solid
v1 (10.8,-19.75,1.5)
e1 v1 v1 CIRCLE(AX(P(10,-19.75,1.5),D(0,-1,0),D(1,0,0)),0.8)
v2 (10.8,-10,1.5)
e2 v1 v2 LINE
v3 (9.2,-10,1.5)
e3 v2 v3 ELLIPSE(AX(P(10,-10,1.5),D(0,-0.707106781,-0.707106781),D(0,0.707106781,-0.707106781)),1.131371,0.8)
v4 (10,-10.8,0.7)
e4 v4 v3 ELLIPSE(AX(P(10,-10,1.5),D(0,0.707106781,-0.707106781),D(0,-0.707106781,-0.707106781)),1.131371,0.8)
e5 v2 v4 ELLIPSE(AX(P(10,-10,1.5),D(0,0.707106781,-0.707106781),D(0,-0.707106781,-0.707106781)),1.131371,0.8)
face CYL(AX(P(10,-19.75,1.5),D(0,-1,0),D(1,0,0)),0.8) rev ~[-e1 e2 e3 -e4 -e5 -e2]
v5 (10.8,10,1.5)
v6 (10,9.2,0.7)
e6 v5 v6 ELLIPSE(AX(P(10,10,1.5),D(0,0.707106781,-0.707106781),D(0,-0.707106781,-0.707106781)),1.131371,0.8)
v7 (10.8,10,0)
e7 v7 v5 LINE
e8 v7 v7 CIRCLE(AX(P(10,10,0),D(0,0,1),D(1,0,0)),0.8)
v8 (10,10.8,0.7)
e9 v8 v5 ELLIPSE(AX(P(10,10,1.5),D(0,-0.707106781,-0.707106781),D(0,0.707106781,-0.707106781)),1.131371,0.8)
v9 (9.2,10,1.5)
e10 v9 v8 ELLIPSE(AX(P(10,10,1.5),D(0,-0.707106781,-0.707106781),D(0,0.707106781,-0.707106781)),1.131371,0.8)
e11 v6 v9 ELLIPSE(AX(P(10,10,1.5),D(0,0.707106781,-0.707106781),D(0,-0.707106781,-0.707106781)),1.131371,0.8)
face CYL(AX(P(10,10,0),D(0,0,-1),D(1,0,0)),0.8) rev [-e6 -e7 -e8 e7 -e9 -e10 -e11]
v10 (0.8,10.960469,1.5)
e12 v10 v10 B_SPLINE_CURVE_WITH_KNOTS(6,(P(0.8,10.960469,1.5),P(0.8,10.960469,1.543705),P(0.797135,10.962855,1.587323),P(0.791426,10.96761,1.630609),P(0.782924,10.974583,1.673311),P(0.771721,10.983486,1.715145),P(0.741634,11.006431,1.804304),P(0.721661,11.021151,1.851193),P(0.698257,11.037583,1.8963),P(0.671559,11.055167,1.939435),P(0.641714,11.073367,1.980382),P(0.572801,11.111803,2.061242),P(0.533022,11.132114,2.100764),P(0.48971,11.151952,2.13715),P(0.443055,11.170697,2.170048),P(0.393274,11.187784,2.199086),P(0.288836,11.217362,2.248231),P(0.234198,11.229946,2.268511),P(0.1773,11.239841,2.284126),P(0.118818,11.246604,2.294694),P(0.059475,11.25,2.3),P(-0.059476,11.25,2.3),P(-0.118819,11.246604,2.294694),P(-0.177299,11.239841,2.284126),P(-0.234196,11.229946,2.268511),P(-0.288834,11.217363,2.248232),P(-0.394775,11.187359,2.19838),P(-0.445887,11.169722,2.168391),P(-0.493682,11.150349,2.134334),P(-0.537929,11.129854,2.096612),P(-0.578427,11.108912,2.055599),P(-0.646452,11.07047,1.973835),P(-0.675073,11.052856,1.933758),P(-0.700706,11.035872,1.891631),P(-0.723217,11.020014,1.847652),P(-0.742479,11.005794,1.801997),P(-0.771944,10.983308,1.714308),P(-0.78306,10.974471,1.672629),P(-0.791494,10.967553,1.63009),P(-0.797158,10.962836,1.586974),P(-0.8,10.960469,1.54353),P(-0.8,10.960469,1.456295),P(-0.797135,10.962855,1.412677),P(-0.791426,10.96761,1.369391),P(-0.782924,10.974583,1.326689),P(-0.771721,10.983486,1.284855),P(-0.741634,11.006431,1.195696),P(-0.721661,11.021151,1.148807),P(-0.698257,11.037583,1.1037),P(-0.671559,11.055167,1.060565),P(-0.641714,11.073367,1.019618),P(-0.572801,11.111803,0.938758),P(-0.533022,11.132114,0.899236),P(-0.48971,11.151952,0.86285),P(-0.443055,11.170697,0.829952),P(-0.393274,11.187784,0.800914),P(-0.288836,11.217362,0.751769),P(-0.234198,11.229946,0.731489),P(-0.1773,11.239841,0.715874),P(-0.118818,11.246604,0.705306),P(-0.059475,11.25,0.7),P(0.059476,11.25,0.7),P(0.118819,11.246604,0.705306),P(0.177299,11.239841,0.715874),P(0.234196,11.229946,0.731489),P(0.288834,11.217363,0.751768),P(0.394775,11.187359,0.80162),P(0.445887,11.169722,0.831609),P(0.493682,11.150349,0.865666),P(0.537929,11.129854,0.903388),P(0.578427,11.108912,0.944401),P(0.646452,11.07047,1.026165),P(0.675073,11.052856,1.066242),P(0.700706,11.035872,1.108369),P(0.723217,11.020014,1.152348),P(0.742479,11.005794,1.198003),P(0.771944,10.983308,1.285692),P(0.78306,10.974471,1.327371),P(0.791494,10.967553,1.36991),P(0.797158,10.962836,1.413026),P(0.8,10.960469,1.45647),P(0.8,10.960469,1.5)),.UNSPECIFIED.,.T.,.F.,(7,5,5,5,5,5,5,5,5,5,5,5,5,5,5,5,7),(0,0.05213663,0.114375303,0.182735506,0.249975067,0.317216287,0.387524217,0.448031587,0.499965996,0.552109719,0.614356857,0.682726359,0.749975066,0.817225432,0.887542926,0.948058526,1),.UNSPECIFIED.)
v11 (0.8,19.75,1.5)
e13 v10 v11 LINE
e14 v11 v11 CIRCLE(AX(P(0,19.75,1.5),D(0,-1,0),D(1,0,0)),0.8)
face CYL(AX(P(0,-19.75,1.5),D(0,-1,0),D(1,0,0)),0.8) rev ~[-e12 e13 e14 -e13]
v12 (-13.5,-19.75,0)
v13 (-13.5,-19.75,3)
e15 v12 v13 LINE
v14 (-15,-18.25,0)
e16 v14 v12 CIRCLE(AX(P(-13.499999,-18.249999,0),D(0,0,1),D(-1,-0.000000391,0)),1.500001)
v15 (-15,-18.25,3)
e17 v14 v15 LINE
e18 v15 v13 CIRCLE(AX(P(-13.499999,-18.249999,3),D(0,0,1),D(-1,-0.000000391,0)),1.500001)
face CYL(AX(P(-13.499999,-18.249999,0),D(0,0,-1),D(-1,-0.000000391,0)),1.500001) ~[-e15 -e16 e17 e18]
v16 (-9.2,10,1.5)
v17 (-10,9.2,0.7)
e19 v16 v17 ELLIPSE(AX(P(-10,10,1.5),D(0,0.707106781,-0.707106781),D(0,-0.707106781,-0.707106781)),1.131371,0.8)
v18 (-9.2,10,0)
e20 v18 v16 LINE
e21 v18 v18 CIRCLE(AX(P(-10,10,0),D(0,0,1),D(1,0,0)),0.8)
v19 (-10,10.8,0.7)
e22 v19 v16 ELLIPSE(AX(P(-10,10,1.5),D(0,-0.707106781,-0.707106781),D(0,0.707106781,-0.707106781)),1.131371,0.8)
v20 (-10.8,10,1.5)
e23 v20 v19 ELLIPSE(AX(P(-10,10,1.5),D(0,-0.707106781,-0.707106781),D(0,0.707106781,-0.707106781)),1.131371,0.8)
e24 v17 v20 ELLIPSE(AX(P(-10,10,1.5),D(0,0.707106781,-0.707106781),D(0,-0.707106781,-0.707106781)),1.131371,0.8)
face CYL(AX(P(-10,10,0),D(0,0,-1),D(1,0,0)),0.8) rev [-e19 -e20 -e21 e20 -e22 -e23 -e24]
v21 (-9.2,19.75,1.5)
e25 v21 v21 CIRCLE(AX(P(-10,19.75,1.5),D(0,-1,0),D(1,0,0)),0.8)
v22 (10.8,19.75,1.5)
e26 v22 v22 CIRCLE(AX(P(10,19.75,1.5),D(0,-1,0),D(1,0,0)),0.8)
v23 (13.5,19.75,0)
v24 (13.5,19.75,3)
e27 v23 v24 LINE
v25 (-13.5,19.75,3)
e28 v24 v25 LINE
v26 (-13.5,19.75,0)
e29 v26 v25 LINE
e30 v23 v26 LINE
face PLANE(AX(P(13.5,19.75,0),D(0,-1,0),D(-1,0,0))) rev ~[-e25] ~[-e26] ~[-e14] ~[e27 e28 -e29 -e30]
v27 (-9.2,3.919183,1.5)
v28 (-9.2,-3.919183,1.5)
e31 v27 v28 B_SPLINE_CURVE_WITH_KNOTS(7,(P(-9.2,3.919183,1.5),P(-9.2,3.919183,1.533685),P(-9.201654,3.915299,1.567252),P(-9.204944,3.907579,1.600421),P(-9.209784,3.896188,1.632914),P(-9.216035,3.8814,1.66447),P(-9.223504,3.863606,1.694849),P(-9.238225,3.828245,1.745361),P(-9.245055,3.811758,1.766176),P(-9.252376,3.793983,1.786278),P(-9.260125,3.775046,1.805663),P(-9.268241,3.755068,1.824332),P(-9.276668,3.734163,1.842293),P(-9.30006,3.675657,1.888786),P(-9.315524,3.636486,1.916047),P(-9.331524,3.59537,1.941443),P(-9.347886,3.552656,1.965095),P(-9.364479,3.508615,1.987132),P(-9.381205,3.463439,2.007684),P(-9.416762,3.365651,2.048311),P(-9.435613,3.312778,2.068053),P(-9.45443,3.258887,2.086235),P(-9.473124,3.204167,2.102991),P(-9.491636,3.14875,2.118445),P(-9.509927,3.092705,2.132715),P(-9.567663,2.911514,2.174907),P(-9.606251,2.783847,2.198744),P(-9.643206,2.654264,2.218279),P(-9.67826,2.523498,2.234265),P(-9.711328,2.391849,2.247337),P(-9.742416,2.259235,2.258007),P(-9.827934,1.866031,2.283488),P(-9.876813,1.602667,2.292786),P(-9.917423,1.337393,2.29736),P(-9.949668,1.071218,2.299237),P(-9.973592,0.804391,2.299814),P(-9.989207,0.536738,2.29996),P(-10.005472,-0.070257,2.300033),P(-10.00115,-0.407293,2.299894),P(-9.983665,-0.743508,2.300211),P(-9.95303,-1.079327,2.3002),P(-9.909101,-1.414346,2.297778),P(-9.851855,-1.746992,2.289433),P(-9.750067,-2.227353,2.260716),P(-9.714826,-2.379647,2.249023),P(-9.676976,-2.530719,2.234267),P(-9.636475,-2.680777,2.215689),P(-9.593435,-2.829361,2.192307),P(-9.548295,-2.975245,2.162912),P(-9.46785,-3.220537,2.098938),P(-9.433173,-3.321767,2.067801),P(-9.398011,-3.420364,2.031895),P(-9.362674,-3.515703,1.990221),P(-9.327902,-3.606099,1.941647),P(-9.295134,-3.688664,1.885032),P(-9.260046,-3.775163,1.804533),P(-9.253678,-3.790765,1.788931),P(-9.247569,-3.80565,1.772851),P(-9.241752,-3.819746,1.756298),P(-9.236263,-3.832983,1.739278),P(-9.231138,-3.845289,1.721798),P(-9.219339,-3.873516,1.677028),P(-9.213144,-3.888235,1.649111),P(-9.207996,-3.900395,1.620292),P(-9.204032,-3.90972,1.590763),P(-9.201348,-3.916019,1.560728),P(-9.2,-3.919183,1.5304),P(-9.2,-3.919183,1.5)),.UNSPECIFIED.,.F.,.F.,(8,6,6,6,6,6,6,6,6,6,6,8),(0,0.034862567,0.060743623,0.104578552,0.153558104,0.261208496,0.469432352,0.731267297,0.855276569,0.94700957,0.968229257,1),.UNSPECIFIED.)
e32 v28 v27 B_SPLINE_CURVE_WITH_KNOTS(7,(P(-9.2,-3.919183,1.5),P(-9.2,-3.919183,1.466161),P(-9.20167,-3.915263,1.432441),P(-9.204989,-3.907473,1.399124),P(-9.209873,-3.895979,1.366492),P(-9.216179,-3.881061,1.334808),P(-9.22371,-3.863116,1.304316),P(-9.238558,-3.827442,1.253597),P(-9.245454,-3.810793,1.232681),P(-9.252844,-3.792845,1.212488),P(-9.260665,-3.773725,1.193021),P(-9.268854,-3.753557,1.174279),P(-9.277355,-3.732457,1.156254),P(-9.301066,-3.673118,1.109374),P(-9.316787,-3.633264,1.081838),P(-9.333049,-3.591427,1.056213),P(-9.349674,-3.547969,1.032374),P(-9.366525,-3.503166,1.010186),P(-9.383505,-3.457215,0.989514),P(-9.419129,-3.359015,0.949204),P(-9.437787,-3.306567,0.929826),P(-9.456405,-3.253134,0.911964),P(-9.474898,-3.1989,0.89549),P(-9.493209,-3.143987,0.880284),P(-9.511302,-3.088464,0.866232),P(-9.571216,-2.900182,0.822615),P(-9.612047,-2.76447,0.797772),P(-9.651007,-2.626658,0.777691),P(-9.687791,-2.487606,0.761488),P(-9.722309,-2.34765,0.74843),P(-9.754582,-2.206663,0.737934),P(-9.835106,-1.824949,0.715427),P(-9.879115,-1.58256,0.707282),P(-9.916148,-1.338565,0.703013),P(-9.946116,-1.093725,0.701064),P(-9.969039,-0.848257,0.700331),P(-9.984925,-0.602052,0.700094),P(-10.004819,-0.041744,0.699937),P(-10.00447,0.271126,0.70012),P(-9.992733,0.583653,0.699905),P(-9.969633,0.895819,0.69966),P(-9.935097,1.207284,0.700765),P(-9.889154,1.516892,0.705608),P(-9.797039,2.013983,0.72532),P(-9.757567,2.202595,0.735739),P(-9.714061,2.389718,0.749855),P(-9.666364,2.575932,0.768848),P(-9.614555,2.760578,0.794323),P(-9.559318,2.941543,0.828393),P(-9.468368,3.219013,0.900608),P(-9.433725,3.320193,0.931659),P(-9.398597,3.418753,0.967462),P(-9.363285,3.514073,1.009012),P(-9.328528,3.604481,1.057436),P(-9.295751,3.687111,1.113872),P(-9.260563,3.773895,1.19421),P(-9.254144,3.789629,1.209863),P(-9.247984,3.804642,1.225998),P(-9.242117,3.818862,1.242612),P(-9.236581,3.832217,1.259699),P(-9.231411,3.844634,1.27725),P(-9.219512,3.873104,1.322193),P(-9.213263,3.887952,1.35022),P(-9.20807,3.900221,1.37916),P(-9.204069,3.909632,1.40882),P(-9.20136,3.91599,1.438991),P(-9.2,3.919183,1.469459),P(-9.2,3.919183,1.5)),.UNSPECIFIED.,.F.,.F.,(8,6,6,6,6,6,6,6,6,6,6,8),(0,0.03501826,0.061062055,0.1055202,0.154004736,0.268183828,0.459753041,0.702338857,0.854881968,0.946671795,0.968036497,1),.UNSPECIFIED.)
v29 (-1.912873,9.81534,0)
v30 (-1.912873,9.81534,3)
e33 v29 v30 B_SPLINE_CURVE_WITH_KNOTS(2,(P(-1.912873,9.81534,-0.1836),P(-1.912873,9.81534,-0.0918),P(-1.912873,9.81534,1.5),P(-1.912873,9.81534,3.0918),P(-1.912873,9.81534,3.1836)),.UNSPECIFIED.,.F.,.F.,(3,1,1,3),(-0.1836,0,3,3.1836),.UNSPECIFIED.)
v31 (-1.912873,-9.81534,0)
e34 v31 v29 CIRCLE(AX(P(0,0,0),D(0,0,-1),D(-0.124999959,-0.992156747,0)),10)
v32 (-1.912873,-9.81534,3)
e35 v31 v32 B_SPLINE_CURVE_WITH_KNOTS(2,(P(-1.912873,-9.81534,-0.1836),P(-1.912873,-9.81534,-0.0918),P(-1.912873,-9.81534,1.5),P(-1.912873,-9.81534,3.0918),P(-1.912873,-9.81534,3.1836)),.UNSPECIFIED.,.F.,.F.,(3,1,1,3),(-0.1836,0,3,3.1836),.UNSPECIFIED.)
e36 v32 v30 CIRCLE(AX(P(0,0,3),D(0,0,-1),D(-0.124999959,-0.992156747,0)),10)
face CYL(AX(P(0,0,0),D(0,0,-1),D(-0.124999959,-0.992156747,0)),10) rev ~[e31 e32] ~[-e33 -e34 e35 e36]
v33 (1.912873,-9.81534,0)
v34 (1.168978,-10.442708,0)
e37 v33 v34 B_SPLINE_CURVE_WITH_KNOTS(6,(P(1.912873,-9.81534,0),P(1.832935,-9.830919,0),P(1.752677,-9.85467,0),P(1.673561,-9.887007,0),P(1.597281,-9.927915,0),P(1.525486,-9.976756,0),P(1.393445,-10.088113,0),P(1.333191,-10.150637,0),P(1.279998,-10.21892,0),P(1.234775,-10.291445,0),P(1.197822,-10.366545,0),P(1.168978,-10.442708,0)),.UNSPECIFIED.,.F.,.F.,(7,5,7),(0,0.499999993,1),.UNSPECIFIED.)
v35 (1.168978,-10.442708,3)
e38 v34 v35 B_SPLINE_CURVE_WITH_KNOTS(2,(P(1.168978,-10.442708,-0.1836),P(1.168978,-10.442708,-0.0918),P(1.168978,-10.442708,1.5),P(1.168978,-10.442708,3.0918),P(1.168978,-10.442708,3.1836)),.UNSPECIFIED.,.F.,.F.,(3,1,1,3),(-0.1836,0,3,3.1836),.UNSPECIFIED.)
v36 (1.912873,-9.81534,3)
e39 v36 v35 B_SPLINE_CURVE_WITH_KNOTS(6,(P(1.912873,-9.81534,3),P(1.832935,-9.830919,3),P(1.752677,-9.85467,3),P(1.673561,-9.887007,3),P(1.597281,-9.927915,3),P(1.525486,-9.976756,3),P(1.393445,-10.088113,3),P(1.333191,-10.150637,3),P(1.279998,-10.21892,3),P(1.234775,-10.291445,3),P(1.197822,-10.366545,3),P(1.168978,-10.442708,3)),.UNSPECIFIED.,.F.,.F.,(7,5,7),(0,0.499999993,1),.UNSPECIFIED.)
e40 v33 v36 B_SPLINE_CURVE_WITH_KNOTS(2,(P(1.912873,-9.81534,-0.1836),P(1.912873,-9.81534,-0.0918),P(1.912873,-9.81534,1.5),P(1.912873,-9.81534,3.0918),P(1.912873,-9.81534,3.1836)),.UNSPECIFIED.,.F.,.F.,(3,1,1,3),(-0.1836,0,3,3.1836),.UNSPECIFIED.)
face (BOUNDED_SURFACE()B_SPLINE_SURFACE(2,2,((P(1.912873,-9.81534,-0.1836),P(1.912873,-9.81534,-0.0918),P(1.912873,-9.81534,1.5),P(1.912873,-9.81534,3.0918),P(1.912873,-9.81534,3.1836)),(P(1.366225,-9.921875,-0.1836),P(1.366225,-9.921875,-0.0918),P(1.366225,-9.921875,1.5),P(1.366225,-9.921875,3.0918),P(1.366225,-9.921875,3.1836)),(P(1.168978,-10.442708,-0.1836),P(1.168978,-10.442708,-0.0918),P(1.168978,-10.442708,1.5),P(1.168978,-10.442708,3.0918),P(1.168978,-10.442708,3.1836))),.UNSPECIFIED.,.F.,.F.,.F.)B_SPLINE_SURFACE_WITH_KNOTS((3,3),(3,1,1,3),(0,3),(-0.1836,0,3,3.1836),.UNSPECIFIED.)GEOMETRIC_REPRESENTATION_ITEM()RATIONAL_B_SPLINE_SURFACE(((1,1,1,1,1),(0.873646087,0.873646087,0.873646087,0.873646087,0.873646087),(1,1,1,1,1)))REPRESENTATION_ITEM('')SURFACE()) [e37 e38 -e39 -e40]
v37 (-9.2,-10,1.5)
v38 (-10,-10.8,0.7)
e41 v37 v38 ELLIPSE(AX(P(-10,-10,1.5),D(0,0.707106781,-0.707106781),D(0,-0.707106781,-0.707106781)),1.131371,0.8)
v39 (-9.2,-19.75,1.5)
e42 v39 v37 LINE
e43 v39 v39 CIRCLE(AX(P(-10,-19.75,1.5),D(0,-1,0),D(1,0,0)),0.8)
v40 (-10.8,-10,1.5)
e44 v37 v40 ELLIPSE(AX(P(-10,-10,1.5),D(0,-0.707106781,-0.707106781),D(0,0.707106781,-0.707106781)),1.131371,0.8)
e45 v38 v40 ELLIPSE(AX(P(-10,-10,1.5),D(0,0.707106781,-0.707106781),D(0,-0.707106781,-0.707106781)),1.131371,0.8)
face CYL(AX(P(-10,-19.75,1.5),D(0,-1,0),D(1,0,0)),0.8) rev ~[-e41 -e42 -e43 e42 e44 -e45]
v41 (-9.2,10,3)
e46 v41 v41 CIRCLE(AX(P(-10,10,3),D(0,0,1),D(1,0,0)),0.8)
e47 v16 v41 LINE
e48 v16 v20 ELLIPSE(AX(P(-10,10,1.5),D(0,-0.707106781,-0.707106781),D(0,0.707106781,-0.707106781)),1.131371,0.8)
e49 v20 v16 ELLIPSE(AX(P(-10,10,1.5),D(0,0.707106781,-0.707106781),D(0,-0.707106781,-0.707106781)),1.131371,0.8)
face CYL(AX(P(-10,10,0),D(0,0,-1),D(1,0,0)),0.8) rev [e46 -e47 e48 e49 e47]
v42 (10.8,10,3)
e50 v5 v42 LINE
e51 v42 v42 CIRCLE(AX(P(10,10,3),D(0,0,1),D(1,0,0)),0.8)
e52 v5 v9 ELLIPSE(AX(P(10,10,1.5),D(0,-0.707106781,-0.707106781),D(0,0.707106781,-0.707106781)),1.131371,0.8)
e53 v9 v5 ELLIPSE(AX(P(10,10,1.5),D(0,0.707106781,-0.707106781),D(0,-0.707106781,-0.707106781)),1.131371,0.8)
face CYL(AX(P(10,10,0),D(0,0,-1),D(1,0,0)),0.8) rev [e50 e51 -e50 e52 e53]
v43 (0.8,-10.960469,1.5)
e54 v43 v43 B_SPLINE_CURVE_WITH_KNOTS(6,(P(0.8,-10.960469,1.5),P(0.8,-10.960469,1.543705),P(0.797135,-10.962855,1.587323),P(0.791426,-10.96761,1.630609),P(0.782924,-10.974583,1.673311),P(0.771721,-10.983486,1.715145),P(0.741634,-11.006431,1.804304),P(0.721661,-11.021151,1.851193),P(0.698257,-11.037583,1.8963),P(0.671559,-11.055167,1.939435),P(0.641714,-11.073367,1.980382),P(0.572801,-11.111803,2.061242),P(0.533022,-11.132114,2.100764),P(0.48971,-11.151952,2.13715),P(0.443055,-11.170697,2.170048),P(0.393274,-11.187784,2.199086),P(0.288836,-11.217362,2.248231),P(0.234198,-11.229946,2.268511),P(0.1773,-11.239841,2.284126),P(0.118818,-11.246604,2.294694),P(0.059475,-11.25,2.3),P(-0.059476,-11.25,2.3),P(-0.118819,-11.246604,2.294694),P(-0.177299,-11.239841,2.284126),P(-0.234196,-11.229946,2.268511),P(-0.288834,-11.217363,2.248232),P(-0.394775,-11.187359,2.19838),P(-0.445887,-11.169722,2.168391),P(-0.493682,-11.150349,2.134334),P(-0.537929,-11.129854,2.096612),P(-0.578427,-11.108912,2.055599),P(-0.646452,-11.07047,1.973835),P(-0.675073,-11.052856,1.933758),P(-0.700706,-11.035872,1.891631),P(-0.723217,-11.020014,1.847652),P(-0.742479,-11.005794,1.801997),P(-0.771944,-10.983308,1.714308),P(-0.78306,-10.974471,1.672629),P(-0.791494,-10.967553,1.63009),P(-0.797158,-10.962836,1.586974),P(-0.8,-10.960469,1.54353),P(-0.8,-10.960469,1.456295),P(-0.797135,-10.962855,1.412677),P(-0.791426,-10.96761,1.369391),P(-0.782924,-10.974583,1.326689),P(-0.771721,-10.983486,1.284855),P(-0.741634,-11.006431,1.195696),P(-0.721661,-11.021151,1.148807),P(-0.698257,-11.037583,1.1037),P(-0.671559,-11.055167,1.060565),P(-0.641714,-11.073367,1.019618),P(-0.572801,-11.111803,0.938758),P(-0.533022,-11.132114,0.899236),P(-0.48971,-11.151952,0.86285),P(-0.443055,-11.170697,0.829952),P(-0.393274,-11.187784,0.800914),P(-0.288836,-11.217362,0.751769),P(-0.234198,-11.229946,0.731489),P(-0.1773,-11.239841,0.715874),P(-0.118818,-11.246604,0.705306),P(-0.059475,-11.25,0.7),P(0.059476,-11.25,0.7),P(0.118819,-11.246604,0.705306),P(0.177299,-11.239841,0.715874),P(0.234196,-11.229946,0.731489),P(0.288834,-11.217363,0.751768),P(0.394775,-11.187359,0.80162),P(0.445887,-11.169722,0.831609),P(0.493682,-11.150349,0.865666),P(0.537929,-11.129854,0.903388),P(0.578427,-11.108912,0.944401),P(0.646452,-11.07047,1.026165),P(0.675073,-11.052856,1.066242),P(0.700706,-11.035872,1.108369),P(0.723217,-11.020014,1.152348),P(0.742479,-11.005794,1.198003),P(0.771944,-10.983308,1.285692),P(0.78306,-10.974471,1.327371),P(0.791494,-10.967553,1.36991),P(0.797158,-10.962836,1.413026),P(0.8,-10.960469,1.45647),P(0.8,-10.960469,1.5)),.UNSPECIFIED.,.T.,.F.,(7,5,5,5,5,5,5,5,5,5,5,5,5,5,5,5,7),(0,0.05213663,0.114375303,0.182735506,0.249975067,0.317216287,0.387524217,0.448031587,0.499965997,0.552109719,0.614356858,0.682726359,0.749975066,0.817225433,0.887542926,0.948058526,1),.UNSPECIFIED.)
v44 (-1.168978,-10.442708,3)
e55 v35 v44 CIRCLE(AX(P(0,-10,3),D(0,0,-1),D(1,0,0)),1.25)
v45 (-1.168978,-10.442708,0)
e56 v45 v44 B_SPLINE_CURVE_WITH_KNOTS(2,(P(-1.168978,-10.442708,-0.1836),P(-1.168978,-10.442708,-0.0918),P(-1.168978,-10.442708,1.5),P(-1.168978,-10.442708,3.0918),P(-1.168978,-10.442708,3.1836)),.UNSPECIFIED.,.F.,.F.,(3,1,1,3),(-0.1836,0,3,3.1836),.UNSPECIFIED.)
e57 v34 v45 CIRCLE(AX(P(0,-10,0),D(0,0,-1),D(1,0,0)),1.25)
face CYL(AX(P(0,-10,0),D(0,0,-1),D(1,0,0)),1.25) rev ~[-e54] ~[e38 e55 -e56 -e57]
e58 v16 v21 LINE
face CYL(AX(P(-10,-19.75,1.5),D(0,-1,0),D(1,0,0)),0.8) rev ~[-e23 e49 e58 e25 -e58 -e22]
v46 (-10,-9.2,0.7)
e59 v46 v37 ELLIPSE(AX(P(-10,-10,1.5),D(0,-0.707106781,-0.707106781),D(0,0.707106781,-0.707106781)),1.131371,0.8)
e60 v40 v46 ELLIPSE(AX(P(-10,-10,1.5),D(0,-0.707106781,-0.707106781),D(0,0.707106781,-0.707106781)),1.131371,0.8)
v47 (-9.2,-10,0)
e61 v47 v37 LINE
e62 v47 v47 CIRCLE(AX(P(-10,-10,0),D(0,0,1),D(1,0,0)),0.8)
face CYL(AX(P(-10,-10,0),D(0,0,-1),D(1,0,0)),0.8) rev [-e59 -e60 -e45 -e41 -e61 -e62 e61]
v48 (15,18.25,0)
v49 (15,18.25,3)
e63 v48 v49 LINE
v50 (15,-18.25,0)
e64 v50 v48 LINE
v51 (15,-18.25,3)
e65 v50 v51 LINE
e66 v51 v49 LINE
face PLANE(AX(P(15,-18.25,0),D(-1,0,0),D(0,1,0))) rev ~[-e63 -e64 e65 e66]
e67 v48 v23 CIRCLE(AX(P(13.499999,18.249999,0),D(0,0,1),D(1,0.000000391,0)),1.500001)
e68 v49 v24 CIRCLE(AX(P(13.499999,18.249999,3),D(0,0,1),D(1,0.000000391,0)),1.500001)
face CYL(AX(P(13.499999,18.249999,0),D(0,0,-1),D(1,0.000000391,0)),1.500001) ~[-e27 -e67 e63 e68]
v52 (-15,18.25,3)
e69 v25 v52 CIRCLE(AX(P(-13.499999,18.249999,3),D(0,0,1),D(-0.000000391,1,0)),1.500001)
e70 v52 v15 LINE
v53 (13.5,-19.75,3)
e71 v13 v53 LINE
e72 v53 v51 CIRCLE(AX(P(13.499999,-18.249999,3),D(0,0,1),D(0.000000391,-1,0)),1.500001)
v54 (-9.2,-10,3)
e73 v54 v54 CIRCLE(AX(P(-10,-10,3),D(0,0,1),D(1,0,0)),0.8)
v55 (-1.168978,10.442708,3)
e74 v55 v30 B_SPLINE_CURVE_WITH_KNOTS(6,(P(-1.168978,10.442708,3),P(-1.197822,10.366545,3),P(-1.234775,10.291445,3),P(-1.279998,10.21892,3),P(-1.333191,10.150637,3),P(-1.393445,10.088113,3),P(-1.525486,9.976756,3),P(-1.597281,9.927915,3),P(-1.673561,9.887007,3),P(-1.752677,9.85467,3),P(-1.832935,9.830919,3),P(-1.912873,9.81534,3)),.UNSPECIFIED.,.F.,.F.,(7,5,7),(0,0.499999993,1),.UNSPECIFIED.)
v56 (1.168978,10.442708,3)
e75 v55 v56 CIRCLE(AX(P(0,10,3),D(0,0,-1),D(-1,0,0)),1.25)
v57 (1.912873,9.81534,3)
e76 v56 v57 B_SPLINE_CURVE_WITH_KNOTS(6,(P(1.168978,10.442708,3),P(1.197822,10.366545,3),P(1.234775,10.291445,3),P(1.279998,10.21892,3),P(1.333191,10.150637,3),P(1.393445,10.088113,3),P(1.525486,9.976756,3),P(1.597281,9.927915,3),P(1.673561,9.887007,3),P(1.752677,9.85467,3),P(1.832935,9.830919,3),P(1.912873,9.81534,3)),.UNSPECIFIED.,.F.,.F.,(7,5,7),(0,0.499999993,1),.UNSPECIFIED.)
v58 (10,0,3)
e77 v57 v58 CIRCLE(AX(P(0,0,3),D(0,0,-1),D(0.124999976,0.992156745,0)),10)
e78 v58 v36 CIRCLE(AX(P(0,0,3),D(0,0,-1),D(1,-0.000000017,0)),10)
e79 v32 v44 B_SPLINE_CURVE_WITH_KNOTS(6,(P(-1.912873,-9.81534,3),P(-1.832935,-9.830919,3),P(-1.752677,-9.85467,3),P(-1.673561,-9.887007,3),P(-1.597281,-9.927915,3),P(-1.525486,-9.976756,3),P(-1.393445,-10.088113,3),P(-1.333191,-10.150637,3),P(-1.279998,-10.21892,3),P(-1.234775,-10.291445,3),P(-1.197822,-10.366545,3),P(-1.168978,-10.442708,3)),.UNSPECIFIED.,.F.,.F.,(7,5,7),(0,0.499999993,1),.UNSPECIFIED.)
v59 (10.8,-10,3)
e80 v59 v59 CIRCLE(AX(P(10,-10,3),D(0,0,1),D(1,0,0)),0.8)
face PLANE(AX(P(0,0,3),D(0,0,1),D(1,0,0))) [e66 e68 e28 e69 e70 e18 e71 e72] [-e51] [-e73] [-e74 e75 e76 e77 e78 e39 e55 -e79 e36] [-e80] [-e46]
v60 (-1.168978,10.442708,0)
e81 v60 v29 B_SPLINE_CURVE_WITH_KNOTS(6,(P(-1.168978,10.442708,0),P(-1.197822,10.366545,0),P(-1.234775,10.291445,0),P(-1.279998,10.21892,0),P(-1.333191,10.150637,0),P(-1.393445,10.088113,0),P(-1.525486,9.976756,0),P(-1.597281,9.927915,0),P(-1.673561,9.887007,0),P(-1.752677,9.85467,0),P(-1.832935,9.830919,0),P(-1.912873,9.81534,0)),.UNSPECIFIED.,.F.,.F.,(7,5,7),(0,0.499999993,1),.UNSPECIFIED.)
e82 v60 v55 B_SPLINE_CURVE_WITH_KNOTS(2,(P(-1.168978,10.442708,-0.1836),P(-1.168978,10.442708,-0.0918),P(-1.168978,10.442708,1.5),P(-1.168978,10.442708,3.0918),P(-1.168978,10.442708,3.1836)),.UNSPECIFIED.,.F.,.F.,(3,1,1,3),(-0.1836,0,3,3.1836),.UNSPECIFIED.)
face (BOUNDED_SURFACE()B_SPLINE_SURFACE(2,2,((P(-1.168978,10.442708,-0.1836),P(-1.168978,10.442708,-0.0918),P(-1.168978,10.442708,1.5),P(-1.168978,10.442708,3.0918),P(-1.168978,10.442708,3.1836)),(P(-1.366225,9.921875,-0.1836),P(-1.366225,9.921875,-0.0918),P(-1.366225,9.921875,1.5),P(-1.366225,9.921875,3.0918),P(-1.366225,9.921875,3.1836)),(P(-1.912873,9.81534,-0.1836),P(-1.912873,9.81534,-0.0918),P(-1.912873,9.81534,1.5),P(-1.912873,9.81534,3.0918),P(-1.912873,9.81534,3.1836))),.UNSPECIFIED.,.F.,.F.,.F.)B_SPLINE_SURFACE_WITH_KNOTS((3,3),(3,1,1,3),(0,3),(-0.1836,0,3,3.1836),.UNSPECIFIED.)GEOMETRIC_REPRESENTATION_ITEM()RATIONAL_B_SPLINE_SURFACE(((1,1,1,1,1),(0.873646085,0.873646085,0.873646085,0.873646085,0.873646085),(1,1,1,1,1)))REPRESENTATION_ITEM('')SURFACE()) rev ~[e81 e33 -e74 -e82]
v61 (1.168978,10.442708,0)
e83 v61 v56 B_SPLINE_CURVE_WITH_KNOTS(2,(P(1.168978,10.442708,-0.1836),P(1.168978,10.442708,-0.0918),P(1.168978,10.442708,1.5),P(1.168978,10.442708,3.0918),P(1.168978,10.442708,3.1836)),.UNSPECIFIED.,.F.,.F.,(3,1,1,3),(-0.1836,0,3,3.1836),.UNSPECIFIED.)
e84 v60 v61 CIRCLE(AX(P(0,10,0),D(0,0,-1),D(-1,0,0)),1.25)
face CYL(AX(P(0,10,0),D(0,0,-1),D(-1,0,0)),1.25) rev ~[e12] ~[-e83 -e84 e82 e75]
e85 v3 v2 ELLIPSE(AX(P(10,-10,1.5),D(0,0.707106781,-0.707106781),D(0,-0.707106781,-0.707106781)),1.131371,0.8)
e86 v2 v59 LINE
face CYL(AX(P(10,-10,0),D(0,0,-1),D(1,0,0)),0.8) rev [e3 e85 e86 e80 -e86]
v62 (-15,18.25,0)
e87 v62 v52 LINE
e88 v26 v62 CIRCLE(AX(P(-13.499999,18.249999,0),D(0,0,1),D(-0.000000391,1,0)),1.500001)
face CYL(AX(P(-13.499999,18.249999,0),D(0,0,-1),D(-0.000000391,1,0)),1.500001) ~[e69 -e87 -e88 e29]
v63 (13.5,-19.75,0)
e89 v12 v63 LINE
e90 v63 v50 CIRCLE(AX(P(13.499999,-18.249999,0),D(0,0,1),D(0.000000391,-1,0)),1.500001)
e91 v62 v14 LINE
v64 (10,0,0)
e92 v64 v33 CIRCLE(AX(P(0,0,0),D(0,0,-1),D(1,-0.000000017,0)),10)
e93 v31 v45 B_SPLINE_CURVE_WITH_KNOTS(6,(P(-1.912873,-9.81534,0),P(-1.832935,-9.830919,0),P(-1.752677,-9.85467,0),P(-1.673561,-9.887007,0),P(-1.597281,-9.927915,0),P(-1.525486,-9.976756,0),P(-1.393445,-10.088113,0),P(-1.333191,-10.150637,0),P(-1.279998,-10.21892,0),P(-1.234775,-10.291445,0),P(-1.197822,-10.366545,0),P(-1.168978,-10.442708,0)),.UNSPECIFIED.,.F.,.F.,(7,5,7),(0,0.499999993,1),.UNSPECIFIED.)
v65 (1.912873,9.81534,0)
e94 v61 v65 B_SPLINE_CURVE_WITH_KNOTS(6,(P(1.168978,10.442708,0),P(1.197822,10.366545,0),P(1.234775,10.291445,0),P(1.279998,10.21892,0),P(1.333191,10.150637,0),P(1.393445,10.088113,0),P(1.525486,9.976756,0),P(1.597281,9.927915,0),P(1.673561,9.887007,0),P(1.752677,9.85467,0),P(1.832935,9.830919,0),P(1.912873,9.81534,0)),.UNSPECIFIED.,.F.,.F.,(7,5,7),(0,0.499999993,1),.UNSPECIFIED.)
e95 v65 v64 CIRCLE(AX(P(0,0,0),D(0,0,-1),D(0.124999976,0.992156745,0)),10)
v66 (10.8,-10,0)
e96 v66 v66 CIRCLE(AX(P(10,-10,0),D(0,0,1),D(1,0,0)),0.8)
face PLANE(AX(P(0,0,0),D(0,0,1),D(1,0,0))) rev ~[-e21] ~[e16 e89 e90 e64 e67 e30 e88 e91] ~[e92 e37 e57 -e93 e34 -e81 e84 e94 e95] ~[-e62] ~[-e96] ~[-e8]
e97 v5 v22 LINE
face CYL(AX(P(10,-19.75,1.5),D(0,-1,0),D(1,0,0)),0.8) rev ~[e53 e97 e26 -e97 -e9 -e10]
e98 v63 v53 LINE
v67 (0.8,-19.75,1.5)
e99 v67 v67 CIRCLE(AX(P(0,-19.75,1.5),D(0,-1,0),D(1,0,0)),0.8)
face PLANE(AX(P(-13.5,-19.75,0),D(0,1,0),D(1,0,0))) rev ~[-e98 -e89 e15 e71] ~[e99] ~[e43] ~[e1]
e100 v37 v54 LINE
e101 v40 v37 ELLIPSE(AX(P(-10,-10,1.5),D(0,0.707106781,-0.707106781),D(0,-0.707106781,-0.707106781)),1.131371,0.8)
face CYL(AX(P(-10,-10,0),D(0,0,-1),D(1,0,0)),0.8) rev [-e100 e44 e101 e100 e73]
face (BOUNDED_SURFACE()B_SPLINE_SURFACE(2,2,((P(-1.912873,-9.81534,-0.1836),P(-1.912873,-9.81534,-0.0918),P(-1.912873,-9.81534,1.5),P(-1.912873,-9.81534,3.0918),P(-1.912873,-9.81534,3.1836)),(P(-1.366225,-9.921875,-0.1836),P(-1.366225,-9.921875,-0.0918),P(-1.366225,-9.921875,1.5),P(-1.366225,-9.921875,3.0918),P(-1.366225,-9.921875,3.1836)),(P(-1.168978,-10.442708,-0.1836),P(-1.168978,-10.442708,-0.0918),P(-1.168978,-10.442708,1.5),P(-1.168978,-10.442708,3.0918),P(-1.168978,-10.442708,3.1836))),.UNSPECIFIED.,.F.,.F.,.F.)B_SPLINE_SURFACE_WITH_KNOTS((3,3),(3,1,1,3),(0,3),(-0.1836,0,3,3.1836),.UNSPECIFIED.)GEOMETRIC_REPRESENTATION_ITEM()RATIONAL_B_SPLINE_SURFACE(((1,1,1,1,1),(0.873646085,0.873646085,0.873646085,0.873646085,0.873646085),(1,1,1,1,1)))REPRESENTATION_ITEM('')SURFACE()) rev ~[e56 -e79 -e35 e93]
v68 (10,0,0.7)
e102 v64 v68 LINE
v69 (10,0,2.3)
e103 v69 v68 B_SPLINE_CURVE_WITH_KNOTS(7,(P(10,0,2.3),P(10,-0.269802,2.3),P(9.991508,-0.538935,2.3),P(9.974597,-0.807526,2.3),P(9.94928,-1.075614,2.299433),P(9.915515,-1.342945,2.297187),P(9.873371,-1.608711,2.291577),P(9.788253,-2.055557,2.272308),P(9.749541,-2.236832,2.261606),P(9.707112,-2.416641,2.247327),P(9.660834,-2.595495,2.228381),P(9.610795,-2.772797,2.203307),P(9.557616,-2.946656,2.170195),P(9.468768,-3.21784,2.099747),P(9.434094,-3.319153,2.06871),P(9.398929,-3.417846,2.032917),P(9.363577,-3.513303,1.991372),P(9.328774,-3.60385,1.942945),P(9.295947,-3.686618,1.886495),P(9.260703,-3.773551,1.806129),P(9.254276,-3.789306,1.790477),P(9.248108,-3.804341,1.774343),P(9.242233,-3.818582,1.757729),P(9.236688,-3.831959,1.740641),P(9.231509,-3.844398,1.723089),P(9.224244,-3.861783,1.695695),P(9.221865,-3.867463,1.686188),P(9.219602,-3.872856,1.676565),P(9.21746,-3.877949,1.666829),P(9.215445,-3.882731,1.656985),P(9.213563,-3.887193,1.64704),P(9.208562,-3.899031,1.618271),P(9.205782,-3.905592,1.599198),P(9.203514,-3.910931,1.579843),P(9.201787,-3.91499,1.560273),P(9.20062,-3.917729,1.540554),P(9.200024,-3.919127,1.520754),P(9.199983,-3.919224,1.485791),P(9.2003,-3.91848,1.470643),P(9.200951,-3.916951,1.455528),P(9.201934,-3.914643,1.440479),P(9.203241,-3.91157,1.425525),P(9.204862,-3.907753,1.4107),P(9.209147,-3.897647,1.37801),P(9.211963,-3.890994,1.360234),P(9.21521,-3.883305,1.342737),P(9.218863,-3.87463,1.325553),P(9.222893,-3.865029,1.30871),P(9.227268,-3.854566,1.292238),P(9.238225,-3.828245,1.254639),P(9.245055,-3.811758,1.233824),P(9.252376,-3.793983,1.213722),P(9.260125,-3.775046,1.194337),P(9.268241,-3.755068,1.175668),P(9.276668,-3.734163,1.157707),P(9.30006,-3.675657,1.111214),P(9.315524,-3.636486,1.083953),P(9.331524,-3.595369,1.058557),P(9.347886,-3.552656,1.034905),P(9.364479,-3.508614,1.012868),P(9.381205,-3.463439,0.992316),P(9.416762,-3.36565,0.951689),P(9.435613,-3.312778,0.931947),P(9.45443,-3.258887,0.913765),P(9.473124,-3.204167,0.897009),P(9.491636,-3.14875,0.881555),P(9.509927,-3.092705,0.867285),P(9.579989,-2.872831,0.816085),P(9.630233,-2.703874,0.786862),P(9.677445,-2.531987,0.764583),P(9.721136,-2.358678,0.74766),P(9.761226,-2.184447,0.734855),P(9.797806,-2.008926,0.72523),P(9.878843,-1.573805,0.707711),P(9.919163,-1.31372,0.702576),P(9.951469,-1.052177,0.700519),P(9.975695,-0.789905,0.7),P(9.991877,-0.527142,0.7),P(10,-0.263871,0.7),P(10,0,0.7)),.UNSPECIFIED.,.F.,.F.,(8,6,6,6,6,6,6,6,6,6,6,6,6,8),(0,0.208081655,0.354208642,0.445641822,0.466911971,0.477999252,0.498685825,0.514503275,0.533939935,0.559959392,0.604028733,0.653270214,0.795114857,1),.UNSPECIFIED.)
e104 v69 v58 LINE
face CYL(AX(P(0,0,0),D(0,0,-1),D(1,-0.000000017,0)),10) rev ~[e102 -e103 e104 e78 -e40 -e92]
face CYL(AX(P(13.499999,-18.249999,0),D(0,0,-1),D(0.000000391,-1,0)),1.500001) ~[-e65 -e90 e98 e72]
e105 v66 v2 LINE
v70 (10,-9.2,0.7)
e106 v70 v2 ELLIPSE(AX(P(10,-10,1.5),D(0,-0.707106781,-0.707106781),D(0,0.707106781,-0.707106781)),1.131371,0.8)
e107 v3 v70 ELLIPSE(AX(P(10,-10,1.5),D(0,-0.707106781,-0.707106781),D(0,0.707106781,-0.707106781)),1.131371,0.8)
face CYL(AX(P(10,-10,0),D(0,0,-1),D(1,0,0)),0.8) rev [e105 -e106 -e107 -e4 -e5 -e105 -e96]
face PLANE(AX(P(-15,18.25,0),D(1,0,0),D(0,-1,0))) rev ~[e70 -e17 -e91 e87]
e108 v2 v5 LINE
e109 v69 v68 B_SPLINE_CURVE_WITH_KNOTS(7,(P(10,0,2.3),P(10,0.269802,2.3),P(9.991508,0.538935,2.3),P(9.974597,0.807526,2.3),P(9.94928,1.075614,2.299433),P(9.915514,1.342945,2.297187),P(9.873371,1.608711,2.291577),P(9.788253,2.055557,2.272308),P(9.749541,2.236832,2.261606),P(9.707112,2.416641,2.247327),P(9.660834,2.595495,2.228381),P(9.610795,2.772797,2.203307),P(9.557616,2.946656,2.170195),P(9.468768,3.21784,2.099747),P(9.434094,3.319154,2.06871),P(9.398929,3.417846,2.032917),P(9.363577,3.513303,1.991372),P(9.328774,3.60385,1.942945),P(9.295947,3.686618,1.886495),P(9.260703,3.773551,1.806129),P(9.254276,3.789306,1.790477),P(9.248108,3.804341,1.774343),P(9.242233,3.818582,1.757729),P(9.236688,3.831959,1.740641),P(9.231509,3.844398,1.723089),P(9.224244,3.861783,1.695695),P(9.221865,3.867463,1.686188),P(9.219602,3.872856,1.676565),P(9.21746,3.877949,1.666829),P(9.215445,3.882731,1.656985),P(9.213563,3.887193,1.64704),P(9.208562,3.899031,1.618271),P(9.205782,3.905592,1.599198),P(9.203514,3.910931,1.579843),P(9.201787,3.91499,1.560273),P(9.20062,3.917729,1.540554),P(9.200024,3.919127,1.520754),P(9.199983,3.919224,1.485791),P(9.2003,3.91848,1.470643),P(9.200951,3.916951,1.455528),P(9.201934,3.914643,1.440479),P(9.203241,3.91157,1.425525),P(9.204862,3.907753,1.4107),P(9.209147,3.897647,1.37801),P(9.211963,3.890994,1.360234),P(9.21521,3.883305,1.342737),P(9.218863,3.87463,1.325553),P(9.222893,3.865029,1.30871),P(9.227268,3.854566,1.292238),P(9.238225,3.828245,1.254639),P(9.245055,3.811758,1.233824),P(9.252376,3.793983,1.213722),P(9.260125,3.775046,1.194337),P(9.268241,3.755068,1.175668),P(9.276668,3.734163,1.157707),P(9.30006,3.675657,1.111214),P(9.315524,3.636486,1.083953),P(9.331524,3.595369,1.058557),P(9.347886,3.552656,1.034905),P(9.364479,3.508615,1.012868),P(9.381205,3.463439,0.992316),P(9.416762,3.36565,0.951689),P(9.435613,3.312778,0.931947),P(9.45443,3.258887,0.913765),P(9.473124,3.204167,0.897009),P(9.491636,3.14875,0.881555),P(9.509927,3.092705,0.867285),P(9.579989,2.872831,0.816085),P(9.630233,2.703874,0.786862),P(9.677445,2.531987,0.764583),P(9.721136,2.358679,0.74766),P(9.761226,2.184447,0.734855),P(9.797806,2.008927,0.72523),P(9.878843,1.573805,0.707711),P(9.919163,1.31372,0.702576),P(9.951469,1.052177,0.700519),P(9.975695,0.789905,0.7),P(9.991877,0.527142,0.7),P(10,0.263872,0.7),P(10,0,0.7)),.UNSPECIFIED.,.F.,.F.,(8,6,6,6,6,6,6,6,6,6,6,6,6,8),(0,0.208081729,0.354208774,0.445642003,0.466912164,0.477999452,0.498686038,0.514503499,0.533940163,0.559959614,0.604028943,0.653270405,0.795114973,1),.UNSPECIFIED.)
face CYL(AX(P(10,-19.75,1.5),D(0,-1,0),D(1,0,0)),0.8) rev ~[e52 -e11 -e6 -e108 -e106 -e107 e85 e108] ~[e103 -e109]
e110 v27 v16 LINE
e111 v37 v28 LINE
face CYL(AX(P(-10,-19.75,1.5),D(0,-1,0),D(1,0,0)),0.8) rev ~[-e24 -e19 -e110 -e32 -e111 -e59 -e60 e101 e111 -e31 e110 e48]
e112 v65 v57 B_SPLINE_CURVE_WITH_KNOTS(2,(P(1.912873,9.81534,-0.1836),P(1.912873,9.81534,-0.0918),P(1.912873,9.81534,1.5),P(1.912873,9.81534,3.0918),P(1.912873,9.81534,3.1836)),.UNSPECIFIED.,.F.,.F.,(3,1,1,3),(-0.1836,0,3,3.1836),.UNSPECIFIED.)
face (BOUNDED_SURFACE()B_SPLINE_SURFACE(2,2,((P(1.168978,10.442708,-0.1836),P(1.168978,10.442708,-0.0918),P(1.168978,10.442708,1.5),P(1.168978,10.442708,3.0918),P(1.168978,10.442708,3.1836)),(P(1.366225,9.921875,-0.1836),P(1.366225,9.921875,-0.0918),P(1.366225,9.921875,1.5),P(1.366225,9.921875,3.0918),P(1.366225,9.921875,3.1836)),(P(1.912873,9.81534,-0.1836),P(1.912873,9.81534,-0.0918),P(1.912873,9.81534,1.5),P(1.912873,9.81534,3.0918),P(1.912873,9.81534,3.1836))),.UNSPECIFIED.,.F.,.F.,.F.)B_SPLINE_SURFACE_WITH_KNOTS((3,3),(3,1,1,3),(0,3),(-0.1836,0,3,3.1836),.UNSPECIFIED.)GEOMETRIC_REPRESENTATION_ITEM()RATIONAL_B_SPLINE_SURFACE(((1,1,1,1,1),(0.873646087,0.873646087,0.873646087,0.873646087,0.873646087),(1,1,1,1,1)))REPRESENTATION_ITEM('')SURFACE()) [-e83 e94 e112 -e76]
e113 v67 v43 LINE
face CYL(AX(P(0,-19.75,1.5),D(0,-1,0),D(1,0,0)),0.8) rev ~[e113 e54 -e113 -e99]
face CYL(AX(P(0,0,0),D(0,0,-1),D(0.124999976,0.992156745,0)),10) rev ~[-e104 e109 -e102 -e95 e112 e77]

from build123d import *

# Parameters (mm, degrees)
F0_R     = 0.8
F1_DEPTH = 3
F2_R     = 0.8
F3_DEPTH = 39.501
F4_R     = 1


with BuildPart() as f1:
    # F0 (on Top) → F1 (new body)
    with BuildSketch(Plane.XY):
        with BuildLine():
            Line((13.5, 19.75), (-13.5, 19.75))
            ThreePointArc((-13.5, 19.75), (-14.56066, 19.31066), (-15, 18.25))
            Line((-15, 18.25), (-15, -18.25))
            ThreePointArc((-15, -18.25), (-14.56066, -19.31066), (-13.5, -19.75))
            Line((-13.5, -19.75), (13.5, -19.75))
            ThreePointArc((13.5, -19.75), (14.56066, -19.31066), (15, -18.25))
            Line((15, -18.25), (15, 18.25))
            ThreePointArc((15, 18.25), (14.56066, 19.31066), (13.5, 19.75))
        make_face()
        with Locations((-10, -10)):
            Circle(F0_R, mode=Mode.SUBTRACT)
        with Locations((10, -10)):
            Circle(F0_R, mode=Mode.SUBTRACT)
        with Locations((-10, 10)):
            Circle(F0_R, mode=Mode.SUBTRACT)
        with BuildLine():
            ThreePointArc((1.25, 9.921567), (7.5, 6.614378), (10, 0))
            ThreePointArc((10, 0), (7.5, -6.614378), (1.25, -9.921567))
            Line((1.25, -9.921567), (1.25, -10))
            ThreePointArc((1.25, -10), (0, -11.25), (-1.25, -10))
            Line((-1.25, -10), (-1.25, -9.921567))
            ThreePointArc((-1.25, -9.921567), (-10, 0), (-1.25, 9.921567))
            Line((-1.25, 9.921567), (-1.25, 10))
            ThreePointArc((-1.25, 10), (0, 11.25), (1.25, 10))
            Line((1.25, 10), (1.25, 9.921567))
        make_face(mode=Mode.SUBTRACT)
        with Locations((10, 10)):
            Circle(F0_R, mode=Mode.SUBTRACT)
    extrude(amount=F1_DEPTH)

    # F2 (on face) → F3 (cut, through all)
    with BuildSketch(Plane.XZ.offset(19.75)):
        with Locations((0, 1.5)):
            Circle(F2_R)
        with Locations((10, 1.5)):
            Circle(F2_R)
        with Locations((-10, 1.5)):
            Circle(F2_R)
    extrude(amount=-F3_DEPTH, mode=Mode.SUBTRACT)

    # F4
    f4_edges = [f1.edges().sort_by_distance(p)[0] for p in [
        (1.25, 9.921567, 1.5),
        (-1.25, 9.921567, 1.5),
        (-1.25, -9.921567, 1.5),
        (1.25, -9.921567, 1.5),
    ]]
    fillet(f4_edges, radius=F4_R)


solid = f1.part
